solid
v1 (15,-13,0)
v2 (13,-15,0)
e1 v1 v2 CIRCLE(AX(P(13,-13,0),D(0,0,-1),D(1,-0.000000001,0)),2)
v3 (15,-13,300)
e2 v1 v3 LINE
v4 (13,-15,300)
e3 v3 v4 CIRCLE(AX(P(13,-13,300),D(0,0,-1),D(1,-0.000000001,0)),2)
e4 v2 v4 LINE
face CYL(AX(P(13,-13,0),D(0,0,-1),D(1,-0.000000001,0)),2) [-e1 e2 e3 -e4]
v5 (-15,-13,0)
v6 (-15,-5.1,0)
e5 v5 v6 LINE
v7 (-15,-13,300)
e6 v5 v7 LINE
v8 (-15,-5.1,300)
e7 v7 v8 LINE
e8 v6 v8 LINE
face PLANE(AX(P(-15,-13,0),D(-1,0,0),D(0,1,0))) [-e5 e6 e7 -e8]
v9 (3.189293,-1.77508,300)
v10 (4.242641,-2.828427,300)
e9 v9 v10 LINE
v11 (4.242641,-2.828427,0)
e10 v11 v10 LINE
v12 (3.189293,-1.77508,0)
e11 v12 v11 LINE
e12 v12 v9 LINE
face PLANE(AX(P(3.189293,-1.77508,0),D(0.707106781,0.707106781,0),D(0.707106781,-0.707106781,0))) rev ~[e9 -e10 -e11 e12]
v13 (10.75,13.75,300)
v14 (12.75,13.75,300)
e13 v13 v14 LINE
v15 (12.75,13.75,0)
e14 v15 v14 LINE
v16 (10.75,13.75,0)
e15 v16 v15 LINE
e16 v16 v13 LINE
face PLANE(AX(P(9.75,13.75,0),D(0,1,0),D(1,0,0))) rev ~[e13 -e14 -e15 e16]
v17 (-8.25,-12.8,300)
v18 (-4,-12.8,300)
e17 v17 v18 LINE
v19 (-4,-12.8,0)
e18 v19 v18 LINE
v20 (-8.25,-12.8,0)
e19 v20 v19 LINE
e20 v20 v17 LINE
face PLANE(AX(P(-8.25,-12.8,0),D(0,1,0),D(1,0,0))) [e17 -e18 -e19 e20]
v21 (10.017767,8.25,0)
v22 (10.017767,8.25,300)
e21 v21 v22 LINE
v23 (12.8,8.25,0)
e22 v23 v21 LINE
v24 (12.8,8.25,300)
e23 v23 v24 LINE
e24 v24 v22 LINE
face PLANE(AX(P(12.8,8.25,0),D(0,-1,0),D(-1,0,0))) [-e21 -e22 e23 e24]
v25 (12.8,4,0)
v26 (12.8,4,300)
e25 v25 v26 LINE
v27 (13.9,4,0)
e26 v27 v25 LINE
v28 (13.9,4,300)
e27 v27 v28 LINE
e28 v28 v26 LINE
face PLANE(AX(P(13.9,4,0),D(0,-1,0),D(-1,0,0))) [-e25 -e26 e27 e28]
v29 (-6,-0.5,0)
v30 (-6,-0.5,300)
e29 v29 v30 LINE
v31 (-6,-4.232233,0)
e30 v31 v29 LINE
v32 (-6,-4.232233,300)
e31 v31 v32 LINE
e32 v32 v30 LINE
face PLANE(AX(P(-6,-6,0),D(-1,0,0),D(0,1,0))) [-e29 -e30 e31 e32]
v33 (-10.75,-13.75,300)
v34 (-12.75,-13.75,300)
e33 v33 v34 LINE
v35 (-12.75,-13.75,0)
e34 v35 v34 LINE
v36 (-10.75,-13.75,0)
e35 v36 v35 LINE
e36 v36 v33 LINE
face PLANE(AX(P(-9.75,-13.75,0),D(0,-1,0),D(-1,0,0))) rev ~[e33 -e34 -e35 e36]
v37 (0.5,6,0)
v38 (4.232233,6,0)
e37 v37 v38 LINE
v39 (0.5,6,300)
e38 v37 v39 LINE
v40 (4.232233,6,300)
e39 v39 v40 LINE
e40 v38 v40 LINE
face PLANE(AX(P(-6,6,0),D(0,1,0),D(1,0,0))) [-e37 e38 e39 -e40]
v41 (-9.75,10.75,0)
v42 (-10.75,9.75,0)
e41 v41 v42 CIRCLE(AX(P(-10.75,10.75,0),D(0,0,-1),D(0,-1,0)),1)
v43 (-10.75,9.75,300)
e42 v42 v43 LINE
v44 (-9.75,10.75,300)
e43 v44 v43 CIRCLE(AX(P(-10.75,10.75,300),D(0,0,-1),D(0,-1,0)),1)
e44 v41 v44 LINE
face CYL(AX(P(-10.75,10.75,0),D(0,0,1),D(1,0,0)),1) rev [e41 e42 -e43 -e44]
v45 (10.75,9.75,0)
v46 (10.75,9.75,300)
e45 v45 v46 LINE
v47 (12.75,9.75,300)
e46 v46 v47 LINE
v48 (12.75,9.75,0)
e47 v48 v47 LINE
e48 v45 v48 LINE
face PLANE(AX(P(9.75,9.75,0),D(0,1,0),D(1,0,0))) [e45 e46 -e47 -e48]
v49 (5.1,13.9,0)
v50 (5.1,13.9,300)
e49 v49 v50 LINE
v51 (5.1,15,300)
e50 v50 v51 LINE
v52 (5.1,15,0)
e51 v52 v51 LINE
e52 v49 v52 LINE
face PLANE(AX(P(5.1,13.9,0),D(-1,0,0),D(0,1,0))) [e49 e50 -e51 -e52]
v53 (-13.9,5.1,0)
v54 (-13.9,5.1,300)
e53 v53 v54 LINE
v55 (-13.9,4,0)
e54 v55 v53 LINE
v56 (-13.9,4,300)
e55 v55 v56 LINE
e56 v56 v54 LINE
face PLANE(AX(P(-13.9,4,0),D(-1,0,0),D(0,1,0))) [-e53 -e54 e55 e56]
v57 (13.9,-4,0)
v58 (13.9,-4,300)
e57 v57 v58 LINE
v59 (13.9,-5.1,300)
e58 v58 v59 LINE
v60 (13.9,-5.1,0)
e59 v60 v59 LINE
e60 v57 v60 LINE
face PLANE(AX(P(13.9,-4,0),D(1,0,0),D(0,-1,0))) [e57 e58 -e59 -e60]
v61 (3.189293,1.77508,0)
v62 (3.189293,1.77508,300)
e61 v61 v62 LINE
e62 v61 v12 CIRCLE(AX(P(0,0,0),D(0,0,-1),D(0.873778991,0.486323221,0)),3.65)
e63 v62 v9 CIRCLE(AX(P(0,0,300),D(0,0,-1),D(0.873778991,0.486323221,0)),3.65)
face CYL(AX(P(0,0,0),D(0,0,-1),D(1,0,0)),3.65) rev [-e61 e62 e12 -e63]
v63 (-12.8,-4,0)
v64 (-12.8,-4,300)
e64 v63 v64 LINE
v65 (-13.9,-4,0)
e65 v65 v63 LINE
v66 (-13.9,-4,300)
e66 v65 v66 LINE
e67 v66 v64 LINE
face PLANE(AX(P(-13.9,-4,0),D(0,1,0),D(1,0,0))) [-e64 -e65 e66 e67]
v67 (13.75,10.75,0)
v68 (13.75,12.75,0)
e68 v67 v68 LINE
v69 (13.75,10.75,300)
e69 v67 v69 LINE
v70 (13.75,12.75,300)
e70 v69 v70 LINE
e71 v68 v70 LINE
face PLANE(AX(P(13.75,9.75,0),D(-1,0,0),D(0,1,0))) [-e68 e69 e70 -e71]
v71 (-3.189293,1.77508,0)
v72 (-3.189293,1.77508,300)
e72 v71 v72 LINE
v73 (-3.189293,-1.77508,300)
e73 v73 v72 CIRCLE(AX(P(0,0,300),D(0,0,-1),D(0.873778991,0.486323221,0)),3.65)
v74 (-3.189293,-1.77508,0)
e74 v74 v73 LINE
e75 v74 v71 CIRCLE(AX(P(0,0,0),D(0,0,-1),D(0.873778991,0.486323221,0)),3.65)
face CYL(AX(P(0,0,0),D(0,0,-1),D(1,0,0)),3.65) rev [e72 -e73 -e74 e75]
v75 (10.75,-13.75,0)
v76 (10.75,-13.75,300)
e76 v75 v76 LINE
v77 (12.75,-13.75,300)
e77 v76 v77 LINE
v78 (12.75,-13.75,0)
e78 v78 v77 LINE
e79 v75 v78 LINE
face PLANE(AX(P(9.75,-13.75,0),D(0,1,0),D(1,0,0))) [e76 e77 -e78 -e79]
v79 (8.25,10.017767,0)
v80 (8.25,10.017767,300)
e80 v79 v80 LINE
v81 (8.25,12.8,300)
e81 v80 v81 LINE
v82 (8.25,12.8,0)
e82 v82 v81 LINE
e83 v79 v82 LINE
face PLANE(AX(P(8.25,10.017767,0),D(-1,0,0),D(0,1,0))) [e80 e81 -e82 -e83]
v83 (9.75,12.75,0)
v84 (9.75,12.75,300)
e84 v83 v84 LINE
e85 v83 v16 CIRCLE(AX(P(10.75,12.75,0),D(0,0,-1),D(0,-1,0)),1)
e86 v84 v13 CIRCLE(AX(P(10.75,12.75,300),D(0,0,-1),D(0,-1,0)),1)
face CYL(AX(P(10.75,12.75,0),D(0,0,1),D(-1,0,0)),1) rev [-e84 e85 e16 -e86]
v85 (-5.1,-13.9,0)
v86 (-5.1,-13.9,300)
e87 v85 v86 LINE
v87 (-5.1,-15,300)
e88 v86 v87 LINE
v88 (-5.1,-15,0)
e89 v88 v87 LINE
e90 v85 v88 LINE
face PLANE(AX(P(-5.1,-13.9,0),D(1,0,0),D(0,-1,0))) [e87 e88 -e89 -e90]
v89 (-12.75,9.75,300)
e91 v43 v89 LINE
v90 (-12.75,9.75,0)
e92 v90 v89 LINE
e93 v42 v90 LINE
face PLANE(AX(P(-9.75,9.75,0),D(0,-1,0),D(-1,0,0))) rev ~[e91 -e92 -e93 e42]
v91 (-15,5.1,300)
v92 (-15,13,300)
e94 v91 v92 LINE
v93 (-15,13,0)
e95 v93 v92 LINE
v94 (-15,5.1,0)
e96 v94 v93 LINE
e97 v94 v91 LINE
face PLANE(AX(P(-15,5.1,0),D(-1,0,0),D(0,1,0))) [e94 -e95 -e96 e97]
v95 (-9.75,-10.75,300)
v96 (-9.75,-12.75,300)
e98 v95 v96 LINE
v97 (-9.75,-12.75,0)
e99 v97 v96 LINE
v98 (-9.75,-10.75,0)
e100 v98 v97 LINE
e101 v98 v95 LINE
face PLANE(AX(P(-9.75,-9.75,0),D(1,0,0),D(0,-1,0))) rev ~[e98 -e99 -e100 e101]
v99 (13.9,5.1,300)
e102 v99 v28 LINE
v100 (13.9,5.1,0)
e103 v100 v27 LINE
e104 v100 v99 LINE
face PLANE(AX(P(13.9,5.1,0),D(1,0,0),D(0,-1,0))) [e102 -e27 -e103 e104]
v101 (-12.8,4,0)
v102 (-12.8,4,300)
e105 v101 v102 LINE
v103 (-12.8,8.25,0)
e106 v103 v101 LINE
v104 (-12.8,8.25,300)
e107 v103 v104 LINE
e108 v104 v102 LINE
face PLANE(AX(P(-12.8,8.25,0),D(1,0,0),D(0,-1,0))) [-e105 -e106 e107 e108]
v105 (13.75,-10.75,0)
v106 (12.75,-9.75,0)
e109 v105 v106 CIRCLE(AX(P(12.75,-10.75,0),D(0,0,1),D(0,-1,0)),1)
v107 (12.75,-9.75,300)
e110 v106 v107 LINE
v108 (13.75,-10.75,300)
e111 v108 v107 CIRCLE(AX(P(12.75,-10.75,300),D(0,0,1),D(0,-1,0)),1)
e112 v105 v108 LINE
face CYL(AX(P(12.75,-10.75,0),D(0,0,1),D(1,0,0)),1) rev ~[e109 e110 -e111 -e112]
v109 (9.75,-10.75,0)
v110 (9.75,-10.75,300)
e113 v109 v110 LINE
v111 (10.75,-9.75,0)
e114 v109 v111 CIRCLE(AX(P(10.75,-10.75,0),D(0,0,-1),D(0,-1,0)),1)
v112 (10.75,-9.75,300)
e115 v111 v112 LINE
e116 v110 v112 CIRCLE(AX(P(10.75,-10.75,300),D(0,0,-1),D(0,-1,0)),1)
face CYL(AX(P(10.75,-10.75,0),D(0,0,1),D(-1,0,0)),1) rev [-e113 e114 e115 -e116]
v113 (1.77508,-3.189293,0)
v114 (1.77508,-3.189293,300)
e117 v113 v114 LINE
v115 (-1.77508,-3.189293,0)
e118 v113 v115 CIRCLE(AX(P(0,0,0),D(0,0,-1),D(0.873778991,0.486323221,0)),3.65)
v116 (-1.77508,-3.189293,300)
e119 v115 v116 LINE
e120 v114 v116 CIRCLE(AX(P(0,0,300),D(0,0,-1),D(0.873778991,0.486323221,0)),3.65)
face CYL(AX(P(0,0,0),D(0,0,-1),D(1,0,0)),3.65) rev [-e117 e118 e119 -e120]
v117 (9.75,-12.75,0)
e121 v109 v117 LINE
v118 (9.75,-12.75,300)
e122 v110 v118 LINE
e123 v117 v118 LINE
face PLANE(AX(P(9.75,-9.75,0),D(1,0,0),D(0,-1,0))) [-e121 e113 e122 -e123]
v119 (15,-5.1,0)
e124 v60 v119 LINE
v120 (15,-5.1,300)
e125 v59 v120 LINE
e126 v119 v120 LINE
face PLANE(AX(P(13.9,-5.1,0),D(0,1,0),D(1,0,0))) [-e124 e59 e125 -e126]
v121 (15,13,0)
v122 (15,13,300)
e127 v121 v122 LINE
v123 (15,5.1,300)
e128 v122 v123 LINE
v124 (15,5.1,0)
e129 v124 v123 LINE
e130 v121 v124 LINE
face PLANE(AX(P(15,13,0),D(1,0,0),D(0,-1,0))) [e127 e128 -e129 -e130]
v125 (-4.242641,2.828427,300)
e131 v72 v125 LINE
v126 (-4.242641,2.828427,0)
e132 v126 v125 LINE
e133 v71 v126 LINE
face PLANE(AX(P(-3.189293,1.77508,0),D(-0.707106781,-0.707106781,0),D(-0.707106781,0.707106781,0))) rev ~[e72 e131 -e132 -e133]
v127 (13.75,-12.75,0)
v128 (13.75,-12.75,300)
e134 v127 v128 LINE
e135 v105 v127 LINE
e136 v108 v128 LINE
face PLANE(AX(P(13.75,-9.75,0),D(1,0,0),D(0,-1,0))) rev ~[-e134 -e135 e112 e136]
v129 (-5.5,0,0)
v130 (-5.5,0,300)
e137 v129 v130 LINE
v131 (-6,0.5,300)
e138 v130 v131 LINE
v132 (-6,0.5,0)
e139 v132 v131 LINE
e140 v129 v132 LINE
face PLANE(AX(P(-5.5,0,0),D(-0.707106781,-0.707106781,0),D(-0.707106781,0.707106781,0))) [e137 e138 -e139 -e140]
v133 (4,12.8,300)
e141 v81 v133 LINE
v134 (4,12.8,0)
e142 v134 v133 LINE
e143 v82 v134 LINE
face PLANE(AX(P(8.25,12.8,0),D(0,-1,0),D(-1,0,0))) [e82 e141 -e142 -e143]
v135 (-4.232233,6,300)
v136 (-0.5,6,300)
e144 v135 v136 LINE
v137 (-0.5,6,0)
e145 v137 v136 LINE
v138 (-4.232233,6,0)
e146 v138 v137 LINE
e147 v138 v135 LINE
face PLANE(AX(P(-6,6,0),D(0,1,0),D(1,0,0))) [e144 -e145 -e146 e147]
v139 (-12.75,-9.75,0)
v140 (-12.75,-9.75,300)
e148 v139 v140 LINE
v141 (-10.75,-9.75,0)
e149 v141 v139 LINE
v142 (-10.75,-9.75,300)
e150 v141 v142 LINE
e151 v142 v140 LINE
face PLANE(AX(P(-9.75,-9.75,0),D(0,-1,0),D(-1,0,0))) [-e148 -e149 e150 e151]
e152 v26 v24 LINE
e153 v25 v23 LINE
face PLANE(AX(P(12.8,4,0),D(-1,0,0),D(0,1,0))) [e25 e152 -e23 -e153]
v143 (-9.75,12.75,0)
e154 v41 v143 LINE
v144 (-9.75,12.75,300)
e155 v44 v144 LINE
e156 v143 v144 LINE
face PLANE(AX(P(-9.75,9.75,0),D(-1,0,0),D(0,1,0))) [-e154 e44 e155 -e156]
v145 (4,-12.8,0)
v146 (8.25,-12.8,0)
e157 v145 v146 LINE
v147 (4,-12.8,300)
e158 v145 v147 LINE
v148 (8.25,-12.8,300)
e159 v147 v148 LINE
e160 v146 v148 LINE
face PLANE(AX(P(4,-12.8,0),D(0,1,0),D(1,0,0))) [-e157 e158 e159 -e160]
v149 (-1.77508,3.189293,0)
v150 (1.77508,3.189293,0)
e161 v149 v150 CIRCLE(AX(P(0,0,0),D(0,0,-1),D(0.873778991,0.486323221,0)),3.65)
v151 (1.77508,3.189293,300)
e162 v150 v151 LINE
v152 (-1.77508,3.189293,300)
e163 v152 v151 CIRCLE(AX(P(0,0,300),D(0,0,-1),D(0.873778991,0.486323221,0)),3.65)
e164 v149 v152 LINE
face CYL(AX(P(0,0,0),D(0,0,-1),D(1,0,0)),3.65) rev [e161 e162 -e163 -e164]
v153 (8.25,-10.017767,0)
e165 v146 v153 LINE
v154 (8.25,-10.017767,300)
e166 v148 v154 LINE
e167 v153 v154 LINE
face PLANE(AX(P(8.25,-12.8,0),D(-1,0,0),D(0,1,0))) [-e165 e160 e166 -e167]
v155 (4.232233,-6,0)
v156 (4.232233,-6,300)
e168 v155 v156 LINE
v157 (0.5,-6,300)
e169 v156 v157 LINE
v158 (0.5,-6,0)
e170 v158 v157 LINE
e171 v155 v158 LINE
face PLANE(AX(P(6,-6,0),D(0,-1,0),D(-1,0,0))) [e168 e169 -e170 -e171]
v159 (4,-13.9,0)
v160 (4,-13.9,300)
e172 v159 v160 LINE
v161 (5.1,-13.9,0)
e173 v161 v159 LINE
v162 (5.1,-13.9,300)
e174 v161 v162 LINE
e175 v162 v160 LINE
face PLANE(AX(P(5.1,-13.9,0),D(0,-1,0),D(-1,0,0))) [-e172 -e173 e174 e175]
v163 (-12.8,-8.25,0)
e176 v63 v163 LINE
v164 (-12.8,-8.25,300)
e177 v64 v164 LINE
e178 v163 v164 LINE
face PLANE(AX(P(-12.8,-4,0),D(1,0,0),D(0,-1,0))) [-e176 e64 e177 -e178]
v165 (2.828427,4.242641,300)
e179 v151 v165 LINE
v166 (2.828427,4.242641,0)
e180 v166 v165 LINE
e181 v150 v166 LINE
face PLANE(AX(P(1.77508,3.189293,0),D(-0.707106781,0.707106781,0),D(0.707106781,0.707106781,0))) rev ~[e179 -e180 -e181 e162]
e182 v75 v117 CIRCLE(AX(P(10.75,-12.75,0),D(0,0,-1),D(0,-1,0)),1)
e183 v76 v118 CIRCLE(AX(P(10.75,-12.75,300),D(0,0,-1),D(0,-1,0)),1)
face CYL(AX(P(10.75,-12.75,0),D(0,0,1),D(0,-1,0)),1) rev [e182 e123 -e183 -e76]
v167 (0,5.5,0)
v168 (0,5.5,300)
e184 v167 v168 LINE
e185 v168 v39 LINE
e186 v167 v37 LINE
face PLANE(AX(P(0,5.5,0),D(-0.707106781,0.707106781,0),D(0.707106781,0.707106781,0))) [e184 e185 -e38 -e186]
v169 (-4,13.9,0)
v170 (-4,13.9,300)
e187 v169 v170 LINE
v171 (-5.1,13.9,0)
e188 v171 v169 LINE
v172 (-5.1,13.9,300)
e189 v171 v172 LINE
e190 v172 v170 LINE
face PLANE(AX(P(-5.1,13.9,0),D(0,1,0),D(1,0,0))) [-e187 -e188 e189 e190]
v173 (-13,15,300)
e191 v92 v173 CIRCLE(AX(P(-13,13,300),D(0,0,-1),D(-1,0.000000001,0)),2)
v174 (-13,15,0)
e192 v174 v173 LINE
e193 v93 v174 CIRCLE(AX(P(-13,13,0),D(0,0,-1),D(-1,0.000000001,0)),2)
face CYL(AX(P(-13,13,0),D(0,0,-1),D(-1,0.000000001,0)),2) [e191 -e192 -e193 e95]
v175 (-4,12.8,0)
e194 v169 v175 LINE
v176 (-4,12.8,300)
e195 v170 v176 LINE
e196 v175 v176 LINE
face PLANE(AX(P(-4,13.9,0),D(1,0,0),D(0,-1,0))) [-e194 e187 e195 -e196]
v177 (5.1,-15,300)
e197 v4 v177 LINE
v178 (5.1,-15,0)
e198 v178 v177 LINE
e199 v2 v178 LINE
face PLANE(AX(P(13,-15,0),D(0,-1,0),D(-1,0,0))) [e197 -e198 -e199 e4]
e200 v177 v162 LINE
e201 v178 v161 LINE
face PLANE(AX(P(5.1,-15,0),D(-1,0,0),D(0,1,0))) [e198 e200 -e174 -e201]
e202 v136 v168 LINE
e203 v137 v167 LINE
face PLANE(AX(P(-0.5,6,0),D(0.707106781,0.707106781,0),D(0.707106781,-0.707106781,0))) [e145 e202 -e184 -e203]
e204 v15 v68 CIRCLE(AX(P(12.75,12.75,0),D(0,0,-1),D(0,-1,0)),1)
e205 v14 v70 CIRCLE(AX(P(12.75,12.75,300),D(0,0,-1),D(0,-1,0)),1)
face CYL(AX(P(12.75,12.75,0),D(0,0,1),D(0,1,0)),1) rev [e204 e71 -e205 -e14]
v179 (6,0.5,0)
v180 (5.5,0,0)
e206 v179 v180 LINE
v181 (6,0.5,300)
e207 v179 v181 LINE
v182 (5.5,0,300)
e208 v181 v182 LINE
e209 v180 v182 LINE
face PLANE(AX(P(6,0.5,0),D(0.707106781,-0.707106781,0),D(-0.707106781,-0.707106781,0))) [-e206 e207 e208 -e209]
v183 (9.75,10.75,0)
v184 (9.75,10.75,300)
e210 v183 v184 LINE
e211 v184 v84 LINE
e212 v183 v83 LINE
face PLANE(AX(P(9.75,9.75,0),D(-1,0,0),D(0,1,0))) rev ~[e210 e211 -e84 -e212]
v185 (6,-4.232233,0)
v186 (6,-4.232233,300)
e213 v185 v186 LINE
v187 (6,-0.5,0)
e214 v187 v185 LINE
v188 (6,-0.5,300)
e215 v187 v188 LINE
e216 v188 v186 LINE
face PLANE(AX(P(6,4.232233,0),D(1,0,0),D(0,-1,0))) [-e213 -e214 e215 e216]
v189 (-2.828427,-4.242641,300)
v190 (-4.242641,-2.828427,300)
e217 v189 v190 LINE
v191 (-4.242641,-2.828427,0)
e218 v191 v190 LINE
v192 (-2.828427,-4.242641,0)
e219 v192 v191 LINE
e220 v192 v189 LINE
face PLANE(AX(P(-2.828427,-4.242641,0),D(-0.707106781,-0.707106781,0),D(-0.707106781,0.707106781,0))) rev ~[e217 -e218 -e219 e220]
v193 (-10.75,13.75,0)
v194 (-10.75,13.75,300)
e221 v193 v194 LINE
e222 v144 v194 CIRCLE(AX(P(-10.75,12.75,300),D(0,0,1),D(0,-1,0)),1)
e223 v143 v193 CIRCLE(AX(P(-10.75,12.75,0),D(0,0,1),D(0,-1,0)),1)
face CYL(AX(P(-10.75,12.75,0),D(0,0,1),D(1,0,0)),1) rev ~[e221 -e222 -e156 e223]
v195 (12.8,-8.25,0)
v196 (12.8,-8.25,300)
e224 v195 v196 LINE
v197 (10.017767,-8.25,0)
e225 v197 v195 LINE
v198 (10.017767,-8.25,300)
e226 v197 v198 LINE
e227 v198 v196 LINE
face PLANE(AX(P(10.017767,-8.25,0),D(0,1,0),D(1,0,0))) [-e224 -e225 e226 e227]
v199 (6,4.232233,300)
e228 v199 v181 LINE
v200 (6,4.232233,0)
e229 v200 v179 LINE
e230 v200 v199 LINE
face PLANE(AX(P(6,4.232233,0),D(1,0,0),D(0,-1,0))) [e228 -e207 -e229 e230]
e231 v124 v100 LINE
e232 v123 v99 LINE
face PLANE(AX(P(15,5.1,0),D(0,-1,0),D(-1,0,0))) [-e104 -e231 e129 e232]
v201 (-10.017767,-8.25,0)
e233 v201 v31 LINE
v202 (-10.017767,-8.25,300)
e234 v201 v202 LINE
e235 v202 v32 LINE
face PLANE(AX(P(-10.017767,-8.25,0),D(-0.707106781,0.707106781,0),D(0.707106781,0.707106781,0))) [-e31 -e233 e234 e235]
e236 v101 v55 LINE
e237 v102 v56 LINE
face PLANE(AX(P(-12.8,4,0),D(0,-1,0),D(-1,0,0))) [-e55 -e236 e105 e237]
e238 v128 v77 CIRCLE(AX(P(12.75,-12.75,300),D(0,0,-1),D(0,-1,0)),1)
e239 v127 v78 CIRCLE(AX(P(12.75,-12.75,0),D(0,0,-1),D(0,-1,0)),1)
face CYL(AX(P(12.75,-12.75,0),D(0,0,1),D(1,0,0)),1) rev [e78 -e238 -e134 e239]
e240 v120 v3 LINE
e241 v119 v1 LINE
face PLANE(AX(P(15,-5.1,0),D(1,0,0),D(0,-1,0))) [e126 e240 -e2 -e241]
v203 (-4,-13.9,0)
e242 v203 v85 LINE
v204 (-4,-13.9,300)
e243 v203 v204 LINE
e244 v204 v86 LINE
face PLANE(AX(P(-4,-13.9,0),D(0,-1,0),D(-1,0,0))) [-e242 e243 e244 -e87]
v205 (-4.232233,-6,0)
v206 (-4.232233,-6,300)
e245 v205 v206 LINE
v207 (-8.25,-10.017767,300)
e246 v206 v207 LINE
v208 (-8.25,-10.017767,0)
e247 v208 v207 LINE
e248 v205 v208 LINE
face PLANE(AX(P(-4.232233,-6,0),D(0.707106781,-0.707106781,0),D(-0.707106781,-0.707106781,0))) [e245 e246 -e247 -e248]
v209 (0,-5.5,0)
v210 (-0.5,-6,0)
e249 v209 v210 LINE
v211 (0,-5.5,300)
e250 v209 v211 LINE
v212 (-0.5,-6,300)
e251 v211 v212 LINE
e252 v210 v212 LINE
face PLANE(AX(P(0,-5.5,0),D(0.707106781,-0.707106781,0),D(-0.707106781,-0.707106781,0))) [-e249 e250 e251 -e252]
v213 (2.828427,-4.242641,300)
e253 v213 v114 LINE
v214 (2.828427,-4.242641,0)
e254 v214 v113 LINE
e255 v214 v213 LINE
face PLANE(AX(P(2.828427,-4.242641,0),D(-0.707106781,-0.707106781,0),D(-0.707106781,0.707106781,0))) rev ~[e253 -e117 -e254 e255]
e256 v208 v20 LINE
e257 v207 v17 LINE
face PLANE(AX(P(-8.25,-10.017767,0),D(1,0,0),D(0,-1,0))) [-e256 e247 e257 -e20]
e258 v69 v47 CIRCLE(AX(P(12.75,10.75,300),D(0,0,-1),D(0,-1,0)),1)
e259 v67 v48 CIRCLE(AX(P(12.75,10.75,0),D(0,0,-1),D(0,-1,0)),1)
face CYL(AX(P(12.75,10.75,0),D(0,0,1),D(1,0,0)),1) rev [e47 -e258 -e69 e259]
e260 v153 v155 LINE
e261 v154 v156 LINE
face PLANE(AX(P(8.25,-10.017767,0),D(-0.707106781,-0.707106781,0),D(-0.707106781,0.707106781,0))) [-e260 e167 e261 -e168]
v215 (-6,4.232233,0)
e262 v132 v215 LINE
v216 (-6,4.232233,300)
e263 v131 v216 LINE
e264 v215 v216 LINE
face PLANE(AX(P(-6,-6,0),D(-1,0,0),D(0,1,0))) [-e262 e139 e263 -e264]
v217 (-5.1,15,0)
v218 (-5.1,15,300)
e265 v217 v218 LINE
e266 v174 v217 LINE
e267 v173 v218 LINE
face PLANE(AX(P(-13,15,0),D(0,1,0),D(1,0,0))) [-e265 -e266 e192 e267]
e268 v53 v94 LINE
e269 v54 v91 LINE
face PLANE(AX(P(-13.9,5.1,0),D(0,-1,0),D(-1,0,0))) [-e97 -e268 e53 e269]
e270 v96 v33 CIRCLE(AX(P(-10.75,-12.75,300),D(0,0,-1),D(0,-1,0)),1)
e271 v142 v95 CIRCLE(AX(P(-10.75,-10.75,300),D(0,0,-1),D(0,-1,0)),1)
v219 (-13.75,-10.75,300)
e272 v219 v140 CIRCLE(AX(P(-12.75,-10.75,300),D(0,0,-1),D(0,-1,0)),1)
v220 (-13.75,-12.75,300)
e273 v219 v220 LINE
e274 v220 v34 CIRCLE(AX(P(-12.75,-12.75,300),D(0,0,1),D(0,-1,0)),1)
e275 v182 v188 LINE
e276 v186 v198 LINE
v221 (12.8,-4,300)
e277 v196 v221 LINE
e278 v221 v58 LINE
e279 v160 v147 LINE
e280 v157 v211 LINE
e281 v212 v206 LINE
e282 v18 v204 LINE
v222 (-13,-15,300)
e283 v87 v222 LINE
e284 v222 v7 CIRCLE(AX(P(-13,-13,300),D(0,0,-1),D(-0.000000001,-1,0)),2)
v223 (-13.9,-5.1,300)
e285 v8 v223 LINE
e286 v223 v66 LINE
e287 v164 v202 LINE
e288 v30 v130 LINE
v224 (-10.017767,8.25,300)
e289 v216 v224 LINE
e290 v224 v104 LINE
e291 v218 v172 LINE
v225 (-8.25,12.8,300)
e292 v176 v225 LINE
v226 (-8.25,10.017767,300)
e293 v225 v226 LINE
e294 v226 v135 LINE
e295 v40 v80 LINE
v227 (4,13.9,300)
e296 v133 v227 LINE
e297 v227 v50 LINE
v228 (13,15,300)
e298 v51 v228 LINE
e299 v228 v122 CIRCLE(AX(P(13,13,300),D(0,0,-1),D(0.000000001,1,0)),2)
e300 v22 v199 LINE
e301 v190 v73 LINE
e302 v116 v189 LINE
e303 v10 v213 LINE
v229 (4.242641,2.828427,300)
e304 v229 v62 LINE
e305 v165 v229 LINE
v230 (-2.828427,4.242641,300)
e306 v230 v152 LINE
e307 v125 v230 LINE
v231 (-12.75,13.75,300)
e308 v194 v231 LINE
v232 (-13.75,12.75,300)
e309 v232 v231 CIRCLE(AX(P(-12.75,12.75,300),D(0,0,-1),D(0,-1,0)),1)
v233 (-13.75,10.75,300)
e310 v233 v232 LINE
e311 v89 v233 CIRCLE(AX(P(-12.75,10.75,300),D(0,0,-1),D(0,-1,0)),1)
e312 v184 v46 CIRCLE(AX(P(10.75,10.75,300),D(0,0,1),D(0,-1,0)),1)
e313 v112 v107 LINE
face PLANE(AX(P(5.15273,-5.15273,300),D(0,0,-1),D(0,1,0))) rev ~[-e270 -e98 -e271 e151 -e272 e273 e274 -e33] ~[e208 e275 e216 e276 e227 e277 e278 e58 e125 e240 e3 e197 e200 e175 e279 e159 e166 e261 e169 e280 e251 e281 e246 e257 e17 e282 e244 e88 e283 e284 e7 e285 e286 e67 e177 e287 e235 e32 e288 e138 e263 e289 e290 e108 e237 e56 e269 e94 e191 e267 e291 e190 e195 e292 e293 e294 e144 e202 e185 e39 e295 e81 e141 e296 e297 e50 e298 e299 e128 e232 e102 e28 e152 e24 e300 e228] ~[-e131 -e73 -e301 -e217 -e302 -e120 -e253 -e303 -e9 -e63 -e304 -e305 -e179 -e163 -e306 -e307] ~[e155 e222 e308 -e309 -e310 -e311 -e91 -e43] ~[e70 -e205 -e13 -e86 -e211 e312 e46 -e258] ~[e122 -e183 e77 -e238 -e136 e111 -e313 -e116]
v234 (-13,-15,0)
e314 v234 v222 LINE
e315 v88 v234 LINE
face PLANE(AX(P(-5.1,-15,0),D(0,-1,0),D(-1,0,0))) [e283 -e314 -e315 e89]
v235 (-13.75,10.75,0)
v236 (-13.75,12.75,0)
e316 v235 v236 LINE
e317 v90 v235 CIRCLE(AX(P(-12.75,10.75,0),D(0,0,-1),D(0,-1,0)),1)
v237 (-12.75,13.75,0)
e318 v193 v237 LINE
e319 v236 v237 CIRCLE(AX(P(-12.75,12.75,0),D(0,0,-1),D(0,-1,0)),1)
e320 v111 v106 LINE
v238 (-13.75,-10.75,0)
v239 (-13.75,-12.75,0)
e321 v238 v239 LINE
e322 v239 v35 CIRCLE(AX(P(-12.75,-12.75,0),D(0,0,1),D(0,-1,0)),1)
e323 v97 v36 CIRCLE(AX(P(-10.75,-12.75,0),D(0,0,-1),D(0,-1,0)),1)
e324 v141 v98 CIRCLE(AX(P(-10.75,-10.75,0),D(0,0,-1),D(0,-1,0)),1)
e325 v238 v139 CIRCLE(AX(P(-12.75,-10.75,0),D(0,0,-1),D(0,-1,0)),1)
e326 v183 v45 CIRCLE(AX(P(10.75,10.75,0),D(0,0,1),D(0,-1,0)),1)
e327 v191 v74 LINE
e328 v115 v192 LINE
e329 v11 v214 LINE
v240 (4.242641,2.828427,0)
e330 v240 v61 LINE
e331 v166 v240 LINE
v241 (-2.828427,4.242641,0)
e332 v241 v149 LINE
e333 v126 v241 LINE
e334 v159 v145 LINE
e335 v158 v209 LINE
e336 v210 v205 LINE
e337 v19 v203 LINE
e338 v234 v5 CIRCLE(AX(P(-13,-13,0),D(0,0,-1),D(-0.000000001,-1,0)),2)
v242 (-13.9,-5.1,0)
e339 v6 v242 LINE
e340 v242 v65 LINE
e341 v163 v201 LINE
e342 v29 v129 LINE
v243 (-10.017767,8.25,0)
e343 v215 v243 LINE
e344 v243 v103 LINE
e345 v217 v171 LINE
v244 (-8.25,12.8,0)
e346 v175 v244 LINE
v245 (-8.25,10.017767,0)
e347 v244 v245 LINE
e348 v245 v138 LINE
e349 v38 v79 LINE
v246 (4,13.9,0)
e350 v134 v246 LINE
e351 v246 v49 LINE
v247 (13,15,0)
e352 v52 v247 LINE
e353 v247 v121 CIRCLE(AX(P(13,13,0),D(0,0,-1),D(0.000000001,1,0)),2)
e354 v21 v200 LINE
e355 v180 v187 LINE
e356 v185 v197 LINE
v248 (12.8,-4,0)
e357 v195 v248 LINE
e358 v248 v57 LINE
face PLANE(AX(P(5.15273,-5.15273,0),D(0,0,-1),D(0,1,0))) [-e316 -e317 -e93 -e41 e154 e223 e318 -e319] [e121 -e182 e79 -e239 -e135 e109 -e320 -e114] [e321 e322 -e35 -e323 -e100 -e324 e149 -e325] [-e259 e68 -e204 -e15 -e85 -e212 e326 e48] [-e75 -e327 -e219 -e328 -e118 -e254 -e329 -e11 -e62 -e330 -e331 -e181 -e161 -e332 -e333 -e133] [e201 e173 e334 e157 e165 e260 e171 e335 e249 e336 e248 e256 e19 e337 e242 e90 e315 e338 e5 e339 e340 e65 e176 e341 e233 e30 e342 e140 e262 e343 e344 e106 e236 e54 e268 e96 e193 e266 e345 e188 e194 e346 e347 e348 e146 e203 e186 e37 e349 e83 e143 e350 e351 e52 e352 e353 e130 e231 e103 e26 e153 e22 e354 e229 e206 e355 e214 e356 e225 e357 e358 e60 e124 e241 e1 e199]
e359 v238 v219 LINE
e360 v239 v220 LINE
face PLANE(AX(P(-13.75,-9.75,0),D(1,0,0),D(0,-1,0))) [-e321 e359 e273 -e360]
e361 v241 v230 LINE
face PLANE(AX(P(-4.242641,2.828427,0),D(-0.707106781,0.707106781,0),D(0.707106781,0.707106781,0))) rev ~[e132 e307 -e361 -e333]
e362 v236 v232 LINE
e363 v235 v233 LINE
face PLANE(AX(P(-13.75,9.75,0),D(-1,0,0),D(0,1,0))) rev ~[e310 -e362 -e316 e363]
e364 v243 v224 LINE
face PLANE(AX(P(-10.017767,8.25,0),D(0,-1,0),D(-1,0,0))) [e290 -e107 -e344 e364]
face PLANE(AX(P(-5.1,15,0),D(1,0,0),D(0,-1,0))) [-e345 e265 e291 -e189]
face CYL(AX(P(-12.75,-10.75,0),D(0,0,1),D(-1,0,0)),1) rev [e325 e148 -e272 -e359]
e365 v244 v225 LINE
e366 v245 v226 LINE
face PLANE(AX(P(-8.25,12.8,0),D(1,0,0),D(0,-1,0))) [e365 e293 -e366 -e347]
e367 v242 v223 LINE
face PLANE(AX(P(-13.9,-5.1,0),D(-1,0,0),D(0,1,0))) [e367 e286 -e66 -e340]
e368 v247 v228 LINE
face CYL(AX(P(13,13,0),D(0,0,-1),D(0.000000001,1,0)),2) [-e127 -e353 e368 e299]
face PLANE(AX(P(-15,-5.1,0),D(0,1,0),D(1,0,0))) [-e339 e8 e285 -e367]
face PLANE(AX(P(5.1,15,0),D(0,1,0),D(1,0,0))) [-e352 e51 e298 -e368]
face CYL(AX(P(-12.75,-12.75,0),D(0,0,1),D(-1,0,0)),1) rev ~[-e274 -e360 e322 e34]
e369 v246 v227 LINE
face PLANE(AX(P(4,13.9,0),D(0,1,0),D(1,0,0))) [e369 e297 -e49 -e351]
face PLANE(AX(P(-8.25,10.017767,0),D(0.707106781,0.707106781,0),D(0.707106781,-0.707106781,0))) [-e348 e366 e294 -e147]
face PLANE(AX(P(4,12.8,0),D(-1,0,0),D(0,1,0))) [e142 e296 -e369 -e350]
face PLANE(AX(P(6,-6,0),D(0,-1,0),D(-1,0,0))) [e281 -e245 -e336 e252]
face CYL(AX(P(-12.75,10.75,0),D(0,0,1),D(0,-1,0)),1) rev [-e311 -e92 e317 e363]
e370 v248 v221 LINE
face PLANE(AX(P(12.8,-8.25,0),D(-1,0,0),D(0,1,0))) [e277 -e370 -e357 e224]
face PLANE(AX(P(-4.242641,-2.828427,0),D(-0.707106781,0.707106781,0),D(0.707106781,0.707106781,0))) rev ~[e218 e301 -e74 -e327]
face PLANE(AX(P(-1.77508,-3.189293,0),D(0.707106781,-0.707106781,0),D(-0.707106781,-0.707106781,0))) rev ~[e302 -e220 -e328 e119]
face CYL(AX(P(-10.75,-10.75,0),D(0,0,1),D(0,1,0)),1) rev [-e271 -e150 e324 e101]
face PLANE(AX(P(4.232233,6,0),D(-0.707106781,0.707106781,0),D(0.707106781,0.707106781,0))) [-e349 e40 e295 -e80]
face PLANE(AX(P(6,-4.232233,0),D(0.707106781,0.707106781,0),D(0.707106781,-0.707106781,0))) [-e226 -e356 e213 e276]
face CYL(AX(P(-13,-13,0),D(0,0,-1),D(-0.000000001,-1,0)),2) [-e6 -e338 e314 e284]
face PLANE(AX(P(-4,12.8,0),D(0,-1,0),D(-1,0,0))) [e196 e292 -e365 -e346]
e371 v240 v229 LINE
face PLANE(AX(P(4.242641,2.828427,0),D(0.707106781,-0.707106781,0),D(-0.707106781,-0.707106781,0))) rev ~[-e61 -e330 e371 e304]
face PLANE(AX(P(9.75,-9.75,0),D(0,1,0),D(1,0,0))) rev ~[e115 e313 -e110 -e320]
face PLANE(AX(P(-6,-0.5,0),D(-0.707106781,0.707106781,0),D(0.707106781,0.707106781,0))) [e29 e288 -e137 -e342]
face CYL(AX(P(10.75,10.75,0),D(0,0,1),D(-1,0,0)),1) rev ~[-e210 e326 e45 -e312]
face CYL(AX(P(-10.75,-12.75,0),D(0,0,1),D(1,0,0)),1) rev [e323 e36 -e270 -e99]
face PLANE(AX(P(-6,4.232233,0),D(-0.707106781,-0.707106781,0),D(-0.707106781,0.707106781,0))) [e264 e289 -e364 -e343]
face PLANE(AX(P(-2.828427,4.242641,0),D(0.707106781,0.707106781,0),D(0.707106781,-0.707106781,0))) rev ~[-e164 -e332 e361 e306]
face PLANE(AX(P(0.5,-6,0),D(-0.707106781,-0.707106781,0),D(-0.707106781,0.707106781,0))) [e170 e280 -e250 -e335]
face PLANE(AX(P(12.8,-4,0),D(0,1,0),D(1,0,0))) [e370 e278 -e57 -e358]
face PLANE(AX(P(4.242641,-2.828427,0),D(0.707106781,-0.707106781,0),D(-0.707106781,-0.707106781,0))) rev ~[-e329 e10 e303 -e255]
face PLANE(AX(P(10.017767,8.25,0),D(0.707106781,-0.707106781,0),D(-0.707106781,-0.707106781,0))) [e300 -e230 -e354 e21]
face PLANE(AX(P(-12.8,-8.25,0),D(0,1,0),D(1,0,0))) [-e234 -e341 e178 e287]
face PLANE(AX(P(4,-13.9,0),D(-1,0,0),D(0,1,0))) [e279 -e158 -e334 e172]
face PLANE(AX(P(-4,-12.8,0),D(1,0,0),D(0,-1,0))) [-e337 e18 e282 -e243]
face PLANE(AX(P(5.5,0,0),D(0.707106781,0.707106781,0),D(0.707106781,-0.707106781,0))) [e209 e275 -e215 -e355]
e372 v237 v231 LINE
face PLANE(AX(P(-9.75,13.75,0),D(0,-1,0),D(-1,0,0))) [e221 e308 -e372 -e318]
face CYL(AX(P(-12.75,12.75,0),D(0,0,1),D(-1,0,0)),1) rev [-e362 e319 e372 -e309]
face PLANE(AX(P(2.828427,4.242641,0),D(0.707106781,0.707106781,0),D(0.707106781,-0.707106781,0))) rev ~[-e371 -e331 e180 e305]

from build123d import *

# Parameters (mm, degrees)
SKETCH1_R                = 3.65
SKETCH1_W                = 4
SKETCH1_H                = 4
BOSS_EXTRUDE1_DEPTH      = 300
FILLET1_R                = 1
CIRPATTERN1_COUNT        = 4
FILLET1_OF_CIRPATTERN1_R = 1
CUT_EXTRUDE1_DEPTH       = 301.749064836
CUT_EXTRUDE2_DEPTH       = 301.749064836
CIRPATTERN2_COUNT        = 4


with BuildPart() as part:
    # Sketch1 → Boss-Extrude1 (new body)
    with BuildSketch(Plane.XY):
        with BuildLine():
            Line((5.1, 15), (13, 15))
            ThreePointArc((13, 15), (14.414213562, 14.414213562), (15, 13))
            Line((15, 13), (15, 5.1))
            Line((15, 5.1), (13.9, 5.1))
            Line((13.9, 5.1), (13.9, 4))
            Line((13.9, 4), (12.8, 4))
            Line((12.8, 4), (12.8, 8.25))
            Line((12.8, 8.25), (10.017766953, 8.25))
            Line((10.017766953, 8.25), (6, 4.232233047))
            Line((6, 4.232233047), (6, -6))
            Line((6, -6), (-6, -6))
            Line((-6, -6), (-6, 6))
            Line((-6, 6), (4.232233047, 6))
            Line((4.232233047, 6), (8.25, 10.017766953))
            Line((8.25, 10.017766953), (8.25, 12.8))
            Line((8.25, 12.8), (4, 12.8))
            Line((4, 12.8), (4, 13.9))
            Line((4, 13.9), (5.1, 13.9))
            Line((5.1, 13.9), (5.1, 15))
        make_face()
        Circle(SKETCH1_R, mode=Mode.SUBTRACT)
        with Locations((11.75, 11.75)):
            Rectangle(SKETCH1_W, SKETCH1_H, mode=Mode.SUBTRACT)
    boss_extrude1 = extrude(amount=BOSS_EXTRUDE1_DEPTH)

    # Fillet1
    fillet1_edges = [part.edges().sort_by_distance(p)[0] for p in [
        (9.75, 13.75, 150),
        (9.75, 9.75, 150),
        (13.75, 9.75, 150),
        (13.75, 13.75, 150),
    ]]
    fillet(fillet1_edges, radius=FILLET1_R)

    # CirPattern1: Boss-Extrude1 ×4 about axis
    cirpattern1_axis = Axis((0, 0, 0), (0, 0, 1))
    for i in range(1, CIRPATTERN1_COUNT):
        add(boss_extrude1.rotate(cirpattern1_axis, i * 360 / CIRPATTERN1_COUNT))

    # Fillet1 of CirPattern1
    fillet1_of_cirpattern1_edges = [part.edges().sort_by_distance(p)[0] for p in [
        (-13.75, 9.75, 150),
        (-9.75, 9.75, 150),
        (-9.75, 13.75, 150),
        (-13.75, 13.75, 150),
        (-9.75, -13.75, 150),
        (-9.75, -9.75, 150),
        (-13.75, -9.75, 150),
        (-13.75, -13.75, 150),
        (13.75, -9.75, 150),
        (9.75, -9.75, 150),
        (9.75, -13.75, 150),
        (13.75, -13.75, 150),
    ]]
    fillet(fillet1_of_cirpattern1_edges, radius=FILLET1_OF_CIRPATTERN1_R)

    # Sketch2 → Cut-Extrude1 (cut, through all)
    with BuildSketch(Plane(origin=(0, 0, 0), x_dir=(-1, 0, 0), z_dir=(0, 0, -1))):
        Polygon((0, 5.5), (-0.5, 6), (0.5, 6), align=None)
    cut_extrude1 = extrude(amount=-CUT_EXTRUDE1_DEPTH, mode=Mode.SUBTRACT)

    # Sketch3 → Cut-Extrude2 (cut, through all)
    with BuildSketch(Plane(origin=(0, 0, 0), x_dir=(-1, 0, 0), z_dir=(0, 0, -1))):
        with BuildLine():
            Line((-1.775079755, 3.189293317), (-2.828427125, 4.242640687))
            Line((-2.828427125, 4.242640687), (-4.242640687, 2.828427125))
            Line((-4.242640687, 2.828427125), (-3.189293317, 1.775079755))
            ThreePointArc((-3.189293317, 1.775079755), (-2.580939751, 2.580939751), (-1.775079755, 3.189293317))
        make_face()
    cut_extrude2 = extrude(amount=-CUT_EXTRUDE2_DEPTH, mode=Mode.SUBTRACT)

    # CirPattern2: Cut-Extrude1, Cut-Extrude2 ×4 about axis
    cirpattern2_axis = Axis((0, 0, 0), (0, 0, 1))
    add([cut_extrude1.rotate(cirpattern2_axis, i * 360 / CIRPATTERN2_COUNT) for i in range(1, CIRPATTERN2_COUNT)], mode=Mode.SUBTRACT)
    add([cut_extrude2.rotate(cirpattern2_axis, i * 360 / CIRPATTERN2_COUNT) for i in range(1, CIRPATTERN2_COUNT)], mode=Mode.SUBTRACT)


solid = part.part
